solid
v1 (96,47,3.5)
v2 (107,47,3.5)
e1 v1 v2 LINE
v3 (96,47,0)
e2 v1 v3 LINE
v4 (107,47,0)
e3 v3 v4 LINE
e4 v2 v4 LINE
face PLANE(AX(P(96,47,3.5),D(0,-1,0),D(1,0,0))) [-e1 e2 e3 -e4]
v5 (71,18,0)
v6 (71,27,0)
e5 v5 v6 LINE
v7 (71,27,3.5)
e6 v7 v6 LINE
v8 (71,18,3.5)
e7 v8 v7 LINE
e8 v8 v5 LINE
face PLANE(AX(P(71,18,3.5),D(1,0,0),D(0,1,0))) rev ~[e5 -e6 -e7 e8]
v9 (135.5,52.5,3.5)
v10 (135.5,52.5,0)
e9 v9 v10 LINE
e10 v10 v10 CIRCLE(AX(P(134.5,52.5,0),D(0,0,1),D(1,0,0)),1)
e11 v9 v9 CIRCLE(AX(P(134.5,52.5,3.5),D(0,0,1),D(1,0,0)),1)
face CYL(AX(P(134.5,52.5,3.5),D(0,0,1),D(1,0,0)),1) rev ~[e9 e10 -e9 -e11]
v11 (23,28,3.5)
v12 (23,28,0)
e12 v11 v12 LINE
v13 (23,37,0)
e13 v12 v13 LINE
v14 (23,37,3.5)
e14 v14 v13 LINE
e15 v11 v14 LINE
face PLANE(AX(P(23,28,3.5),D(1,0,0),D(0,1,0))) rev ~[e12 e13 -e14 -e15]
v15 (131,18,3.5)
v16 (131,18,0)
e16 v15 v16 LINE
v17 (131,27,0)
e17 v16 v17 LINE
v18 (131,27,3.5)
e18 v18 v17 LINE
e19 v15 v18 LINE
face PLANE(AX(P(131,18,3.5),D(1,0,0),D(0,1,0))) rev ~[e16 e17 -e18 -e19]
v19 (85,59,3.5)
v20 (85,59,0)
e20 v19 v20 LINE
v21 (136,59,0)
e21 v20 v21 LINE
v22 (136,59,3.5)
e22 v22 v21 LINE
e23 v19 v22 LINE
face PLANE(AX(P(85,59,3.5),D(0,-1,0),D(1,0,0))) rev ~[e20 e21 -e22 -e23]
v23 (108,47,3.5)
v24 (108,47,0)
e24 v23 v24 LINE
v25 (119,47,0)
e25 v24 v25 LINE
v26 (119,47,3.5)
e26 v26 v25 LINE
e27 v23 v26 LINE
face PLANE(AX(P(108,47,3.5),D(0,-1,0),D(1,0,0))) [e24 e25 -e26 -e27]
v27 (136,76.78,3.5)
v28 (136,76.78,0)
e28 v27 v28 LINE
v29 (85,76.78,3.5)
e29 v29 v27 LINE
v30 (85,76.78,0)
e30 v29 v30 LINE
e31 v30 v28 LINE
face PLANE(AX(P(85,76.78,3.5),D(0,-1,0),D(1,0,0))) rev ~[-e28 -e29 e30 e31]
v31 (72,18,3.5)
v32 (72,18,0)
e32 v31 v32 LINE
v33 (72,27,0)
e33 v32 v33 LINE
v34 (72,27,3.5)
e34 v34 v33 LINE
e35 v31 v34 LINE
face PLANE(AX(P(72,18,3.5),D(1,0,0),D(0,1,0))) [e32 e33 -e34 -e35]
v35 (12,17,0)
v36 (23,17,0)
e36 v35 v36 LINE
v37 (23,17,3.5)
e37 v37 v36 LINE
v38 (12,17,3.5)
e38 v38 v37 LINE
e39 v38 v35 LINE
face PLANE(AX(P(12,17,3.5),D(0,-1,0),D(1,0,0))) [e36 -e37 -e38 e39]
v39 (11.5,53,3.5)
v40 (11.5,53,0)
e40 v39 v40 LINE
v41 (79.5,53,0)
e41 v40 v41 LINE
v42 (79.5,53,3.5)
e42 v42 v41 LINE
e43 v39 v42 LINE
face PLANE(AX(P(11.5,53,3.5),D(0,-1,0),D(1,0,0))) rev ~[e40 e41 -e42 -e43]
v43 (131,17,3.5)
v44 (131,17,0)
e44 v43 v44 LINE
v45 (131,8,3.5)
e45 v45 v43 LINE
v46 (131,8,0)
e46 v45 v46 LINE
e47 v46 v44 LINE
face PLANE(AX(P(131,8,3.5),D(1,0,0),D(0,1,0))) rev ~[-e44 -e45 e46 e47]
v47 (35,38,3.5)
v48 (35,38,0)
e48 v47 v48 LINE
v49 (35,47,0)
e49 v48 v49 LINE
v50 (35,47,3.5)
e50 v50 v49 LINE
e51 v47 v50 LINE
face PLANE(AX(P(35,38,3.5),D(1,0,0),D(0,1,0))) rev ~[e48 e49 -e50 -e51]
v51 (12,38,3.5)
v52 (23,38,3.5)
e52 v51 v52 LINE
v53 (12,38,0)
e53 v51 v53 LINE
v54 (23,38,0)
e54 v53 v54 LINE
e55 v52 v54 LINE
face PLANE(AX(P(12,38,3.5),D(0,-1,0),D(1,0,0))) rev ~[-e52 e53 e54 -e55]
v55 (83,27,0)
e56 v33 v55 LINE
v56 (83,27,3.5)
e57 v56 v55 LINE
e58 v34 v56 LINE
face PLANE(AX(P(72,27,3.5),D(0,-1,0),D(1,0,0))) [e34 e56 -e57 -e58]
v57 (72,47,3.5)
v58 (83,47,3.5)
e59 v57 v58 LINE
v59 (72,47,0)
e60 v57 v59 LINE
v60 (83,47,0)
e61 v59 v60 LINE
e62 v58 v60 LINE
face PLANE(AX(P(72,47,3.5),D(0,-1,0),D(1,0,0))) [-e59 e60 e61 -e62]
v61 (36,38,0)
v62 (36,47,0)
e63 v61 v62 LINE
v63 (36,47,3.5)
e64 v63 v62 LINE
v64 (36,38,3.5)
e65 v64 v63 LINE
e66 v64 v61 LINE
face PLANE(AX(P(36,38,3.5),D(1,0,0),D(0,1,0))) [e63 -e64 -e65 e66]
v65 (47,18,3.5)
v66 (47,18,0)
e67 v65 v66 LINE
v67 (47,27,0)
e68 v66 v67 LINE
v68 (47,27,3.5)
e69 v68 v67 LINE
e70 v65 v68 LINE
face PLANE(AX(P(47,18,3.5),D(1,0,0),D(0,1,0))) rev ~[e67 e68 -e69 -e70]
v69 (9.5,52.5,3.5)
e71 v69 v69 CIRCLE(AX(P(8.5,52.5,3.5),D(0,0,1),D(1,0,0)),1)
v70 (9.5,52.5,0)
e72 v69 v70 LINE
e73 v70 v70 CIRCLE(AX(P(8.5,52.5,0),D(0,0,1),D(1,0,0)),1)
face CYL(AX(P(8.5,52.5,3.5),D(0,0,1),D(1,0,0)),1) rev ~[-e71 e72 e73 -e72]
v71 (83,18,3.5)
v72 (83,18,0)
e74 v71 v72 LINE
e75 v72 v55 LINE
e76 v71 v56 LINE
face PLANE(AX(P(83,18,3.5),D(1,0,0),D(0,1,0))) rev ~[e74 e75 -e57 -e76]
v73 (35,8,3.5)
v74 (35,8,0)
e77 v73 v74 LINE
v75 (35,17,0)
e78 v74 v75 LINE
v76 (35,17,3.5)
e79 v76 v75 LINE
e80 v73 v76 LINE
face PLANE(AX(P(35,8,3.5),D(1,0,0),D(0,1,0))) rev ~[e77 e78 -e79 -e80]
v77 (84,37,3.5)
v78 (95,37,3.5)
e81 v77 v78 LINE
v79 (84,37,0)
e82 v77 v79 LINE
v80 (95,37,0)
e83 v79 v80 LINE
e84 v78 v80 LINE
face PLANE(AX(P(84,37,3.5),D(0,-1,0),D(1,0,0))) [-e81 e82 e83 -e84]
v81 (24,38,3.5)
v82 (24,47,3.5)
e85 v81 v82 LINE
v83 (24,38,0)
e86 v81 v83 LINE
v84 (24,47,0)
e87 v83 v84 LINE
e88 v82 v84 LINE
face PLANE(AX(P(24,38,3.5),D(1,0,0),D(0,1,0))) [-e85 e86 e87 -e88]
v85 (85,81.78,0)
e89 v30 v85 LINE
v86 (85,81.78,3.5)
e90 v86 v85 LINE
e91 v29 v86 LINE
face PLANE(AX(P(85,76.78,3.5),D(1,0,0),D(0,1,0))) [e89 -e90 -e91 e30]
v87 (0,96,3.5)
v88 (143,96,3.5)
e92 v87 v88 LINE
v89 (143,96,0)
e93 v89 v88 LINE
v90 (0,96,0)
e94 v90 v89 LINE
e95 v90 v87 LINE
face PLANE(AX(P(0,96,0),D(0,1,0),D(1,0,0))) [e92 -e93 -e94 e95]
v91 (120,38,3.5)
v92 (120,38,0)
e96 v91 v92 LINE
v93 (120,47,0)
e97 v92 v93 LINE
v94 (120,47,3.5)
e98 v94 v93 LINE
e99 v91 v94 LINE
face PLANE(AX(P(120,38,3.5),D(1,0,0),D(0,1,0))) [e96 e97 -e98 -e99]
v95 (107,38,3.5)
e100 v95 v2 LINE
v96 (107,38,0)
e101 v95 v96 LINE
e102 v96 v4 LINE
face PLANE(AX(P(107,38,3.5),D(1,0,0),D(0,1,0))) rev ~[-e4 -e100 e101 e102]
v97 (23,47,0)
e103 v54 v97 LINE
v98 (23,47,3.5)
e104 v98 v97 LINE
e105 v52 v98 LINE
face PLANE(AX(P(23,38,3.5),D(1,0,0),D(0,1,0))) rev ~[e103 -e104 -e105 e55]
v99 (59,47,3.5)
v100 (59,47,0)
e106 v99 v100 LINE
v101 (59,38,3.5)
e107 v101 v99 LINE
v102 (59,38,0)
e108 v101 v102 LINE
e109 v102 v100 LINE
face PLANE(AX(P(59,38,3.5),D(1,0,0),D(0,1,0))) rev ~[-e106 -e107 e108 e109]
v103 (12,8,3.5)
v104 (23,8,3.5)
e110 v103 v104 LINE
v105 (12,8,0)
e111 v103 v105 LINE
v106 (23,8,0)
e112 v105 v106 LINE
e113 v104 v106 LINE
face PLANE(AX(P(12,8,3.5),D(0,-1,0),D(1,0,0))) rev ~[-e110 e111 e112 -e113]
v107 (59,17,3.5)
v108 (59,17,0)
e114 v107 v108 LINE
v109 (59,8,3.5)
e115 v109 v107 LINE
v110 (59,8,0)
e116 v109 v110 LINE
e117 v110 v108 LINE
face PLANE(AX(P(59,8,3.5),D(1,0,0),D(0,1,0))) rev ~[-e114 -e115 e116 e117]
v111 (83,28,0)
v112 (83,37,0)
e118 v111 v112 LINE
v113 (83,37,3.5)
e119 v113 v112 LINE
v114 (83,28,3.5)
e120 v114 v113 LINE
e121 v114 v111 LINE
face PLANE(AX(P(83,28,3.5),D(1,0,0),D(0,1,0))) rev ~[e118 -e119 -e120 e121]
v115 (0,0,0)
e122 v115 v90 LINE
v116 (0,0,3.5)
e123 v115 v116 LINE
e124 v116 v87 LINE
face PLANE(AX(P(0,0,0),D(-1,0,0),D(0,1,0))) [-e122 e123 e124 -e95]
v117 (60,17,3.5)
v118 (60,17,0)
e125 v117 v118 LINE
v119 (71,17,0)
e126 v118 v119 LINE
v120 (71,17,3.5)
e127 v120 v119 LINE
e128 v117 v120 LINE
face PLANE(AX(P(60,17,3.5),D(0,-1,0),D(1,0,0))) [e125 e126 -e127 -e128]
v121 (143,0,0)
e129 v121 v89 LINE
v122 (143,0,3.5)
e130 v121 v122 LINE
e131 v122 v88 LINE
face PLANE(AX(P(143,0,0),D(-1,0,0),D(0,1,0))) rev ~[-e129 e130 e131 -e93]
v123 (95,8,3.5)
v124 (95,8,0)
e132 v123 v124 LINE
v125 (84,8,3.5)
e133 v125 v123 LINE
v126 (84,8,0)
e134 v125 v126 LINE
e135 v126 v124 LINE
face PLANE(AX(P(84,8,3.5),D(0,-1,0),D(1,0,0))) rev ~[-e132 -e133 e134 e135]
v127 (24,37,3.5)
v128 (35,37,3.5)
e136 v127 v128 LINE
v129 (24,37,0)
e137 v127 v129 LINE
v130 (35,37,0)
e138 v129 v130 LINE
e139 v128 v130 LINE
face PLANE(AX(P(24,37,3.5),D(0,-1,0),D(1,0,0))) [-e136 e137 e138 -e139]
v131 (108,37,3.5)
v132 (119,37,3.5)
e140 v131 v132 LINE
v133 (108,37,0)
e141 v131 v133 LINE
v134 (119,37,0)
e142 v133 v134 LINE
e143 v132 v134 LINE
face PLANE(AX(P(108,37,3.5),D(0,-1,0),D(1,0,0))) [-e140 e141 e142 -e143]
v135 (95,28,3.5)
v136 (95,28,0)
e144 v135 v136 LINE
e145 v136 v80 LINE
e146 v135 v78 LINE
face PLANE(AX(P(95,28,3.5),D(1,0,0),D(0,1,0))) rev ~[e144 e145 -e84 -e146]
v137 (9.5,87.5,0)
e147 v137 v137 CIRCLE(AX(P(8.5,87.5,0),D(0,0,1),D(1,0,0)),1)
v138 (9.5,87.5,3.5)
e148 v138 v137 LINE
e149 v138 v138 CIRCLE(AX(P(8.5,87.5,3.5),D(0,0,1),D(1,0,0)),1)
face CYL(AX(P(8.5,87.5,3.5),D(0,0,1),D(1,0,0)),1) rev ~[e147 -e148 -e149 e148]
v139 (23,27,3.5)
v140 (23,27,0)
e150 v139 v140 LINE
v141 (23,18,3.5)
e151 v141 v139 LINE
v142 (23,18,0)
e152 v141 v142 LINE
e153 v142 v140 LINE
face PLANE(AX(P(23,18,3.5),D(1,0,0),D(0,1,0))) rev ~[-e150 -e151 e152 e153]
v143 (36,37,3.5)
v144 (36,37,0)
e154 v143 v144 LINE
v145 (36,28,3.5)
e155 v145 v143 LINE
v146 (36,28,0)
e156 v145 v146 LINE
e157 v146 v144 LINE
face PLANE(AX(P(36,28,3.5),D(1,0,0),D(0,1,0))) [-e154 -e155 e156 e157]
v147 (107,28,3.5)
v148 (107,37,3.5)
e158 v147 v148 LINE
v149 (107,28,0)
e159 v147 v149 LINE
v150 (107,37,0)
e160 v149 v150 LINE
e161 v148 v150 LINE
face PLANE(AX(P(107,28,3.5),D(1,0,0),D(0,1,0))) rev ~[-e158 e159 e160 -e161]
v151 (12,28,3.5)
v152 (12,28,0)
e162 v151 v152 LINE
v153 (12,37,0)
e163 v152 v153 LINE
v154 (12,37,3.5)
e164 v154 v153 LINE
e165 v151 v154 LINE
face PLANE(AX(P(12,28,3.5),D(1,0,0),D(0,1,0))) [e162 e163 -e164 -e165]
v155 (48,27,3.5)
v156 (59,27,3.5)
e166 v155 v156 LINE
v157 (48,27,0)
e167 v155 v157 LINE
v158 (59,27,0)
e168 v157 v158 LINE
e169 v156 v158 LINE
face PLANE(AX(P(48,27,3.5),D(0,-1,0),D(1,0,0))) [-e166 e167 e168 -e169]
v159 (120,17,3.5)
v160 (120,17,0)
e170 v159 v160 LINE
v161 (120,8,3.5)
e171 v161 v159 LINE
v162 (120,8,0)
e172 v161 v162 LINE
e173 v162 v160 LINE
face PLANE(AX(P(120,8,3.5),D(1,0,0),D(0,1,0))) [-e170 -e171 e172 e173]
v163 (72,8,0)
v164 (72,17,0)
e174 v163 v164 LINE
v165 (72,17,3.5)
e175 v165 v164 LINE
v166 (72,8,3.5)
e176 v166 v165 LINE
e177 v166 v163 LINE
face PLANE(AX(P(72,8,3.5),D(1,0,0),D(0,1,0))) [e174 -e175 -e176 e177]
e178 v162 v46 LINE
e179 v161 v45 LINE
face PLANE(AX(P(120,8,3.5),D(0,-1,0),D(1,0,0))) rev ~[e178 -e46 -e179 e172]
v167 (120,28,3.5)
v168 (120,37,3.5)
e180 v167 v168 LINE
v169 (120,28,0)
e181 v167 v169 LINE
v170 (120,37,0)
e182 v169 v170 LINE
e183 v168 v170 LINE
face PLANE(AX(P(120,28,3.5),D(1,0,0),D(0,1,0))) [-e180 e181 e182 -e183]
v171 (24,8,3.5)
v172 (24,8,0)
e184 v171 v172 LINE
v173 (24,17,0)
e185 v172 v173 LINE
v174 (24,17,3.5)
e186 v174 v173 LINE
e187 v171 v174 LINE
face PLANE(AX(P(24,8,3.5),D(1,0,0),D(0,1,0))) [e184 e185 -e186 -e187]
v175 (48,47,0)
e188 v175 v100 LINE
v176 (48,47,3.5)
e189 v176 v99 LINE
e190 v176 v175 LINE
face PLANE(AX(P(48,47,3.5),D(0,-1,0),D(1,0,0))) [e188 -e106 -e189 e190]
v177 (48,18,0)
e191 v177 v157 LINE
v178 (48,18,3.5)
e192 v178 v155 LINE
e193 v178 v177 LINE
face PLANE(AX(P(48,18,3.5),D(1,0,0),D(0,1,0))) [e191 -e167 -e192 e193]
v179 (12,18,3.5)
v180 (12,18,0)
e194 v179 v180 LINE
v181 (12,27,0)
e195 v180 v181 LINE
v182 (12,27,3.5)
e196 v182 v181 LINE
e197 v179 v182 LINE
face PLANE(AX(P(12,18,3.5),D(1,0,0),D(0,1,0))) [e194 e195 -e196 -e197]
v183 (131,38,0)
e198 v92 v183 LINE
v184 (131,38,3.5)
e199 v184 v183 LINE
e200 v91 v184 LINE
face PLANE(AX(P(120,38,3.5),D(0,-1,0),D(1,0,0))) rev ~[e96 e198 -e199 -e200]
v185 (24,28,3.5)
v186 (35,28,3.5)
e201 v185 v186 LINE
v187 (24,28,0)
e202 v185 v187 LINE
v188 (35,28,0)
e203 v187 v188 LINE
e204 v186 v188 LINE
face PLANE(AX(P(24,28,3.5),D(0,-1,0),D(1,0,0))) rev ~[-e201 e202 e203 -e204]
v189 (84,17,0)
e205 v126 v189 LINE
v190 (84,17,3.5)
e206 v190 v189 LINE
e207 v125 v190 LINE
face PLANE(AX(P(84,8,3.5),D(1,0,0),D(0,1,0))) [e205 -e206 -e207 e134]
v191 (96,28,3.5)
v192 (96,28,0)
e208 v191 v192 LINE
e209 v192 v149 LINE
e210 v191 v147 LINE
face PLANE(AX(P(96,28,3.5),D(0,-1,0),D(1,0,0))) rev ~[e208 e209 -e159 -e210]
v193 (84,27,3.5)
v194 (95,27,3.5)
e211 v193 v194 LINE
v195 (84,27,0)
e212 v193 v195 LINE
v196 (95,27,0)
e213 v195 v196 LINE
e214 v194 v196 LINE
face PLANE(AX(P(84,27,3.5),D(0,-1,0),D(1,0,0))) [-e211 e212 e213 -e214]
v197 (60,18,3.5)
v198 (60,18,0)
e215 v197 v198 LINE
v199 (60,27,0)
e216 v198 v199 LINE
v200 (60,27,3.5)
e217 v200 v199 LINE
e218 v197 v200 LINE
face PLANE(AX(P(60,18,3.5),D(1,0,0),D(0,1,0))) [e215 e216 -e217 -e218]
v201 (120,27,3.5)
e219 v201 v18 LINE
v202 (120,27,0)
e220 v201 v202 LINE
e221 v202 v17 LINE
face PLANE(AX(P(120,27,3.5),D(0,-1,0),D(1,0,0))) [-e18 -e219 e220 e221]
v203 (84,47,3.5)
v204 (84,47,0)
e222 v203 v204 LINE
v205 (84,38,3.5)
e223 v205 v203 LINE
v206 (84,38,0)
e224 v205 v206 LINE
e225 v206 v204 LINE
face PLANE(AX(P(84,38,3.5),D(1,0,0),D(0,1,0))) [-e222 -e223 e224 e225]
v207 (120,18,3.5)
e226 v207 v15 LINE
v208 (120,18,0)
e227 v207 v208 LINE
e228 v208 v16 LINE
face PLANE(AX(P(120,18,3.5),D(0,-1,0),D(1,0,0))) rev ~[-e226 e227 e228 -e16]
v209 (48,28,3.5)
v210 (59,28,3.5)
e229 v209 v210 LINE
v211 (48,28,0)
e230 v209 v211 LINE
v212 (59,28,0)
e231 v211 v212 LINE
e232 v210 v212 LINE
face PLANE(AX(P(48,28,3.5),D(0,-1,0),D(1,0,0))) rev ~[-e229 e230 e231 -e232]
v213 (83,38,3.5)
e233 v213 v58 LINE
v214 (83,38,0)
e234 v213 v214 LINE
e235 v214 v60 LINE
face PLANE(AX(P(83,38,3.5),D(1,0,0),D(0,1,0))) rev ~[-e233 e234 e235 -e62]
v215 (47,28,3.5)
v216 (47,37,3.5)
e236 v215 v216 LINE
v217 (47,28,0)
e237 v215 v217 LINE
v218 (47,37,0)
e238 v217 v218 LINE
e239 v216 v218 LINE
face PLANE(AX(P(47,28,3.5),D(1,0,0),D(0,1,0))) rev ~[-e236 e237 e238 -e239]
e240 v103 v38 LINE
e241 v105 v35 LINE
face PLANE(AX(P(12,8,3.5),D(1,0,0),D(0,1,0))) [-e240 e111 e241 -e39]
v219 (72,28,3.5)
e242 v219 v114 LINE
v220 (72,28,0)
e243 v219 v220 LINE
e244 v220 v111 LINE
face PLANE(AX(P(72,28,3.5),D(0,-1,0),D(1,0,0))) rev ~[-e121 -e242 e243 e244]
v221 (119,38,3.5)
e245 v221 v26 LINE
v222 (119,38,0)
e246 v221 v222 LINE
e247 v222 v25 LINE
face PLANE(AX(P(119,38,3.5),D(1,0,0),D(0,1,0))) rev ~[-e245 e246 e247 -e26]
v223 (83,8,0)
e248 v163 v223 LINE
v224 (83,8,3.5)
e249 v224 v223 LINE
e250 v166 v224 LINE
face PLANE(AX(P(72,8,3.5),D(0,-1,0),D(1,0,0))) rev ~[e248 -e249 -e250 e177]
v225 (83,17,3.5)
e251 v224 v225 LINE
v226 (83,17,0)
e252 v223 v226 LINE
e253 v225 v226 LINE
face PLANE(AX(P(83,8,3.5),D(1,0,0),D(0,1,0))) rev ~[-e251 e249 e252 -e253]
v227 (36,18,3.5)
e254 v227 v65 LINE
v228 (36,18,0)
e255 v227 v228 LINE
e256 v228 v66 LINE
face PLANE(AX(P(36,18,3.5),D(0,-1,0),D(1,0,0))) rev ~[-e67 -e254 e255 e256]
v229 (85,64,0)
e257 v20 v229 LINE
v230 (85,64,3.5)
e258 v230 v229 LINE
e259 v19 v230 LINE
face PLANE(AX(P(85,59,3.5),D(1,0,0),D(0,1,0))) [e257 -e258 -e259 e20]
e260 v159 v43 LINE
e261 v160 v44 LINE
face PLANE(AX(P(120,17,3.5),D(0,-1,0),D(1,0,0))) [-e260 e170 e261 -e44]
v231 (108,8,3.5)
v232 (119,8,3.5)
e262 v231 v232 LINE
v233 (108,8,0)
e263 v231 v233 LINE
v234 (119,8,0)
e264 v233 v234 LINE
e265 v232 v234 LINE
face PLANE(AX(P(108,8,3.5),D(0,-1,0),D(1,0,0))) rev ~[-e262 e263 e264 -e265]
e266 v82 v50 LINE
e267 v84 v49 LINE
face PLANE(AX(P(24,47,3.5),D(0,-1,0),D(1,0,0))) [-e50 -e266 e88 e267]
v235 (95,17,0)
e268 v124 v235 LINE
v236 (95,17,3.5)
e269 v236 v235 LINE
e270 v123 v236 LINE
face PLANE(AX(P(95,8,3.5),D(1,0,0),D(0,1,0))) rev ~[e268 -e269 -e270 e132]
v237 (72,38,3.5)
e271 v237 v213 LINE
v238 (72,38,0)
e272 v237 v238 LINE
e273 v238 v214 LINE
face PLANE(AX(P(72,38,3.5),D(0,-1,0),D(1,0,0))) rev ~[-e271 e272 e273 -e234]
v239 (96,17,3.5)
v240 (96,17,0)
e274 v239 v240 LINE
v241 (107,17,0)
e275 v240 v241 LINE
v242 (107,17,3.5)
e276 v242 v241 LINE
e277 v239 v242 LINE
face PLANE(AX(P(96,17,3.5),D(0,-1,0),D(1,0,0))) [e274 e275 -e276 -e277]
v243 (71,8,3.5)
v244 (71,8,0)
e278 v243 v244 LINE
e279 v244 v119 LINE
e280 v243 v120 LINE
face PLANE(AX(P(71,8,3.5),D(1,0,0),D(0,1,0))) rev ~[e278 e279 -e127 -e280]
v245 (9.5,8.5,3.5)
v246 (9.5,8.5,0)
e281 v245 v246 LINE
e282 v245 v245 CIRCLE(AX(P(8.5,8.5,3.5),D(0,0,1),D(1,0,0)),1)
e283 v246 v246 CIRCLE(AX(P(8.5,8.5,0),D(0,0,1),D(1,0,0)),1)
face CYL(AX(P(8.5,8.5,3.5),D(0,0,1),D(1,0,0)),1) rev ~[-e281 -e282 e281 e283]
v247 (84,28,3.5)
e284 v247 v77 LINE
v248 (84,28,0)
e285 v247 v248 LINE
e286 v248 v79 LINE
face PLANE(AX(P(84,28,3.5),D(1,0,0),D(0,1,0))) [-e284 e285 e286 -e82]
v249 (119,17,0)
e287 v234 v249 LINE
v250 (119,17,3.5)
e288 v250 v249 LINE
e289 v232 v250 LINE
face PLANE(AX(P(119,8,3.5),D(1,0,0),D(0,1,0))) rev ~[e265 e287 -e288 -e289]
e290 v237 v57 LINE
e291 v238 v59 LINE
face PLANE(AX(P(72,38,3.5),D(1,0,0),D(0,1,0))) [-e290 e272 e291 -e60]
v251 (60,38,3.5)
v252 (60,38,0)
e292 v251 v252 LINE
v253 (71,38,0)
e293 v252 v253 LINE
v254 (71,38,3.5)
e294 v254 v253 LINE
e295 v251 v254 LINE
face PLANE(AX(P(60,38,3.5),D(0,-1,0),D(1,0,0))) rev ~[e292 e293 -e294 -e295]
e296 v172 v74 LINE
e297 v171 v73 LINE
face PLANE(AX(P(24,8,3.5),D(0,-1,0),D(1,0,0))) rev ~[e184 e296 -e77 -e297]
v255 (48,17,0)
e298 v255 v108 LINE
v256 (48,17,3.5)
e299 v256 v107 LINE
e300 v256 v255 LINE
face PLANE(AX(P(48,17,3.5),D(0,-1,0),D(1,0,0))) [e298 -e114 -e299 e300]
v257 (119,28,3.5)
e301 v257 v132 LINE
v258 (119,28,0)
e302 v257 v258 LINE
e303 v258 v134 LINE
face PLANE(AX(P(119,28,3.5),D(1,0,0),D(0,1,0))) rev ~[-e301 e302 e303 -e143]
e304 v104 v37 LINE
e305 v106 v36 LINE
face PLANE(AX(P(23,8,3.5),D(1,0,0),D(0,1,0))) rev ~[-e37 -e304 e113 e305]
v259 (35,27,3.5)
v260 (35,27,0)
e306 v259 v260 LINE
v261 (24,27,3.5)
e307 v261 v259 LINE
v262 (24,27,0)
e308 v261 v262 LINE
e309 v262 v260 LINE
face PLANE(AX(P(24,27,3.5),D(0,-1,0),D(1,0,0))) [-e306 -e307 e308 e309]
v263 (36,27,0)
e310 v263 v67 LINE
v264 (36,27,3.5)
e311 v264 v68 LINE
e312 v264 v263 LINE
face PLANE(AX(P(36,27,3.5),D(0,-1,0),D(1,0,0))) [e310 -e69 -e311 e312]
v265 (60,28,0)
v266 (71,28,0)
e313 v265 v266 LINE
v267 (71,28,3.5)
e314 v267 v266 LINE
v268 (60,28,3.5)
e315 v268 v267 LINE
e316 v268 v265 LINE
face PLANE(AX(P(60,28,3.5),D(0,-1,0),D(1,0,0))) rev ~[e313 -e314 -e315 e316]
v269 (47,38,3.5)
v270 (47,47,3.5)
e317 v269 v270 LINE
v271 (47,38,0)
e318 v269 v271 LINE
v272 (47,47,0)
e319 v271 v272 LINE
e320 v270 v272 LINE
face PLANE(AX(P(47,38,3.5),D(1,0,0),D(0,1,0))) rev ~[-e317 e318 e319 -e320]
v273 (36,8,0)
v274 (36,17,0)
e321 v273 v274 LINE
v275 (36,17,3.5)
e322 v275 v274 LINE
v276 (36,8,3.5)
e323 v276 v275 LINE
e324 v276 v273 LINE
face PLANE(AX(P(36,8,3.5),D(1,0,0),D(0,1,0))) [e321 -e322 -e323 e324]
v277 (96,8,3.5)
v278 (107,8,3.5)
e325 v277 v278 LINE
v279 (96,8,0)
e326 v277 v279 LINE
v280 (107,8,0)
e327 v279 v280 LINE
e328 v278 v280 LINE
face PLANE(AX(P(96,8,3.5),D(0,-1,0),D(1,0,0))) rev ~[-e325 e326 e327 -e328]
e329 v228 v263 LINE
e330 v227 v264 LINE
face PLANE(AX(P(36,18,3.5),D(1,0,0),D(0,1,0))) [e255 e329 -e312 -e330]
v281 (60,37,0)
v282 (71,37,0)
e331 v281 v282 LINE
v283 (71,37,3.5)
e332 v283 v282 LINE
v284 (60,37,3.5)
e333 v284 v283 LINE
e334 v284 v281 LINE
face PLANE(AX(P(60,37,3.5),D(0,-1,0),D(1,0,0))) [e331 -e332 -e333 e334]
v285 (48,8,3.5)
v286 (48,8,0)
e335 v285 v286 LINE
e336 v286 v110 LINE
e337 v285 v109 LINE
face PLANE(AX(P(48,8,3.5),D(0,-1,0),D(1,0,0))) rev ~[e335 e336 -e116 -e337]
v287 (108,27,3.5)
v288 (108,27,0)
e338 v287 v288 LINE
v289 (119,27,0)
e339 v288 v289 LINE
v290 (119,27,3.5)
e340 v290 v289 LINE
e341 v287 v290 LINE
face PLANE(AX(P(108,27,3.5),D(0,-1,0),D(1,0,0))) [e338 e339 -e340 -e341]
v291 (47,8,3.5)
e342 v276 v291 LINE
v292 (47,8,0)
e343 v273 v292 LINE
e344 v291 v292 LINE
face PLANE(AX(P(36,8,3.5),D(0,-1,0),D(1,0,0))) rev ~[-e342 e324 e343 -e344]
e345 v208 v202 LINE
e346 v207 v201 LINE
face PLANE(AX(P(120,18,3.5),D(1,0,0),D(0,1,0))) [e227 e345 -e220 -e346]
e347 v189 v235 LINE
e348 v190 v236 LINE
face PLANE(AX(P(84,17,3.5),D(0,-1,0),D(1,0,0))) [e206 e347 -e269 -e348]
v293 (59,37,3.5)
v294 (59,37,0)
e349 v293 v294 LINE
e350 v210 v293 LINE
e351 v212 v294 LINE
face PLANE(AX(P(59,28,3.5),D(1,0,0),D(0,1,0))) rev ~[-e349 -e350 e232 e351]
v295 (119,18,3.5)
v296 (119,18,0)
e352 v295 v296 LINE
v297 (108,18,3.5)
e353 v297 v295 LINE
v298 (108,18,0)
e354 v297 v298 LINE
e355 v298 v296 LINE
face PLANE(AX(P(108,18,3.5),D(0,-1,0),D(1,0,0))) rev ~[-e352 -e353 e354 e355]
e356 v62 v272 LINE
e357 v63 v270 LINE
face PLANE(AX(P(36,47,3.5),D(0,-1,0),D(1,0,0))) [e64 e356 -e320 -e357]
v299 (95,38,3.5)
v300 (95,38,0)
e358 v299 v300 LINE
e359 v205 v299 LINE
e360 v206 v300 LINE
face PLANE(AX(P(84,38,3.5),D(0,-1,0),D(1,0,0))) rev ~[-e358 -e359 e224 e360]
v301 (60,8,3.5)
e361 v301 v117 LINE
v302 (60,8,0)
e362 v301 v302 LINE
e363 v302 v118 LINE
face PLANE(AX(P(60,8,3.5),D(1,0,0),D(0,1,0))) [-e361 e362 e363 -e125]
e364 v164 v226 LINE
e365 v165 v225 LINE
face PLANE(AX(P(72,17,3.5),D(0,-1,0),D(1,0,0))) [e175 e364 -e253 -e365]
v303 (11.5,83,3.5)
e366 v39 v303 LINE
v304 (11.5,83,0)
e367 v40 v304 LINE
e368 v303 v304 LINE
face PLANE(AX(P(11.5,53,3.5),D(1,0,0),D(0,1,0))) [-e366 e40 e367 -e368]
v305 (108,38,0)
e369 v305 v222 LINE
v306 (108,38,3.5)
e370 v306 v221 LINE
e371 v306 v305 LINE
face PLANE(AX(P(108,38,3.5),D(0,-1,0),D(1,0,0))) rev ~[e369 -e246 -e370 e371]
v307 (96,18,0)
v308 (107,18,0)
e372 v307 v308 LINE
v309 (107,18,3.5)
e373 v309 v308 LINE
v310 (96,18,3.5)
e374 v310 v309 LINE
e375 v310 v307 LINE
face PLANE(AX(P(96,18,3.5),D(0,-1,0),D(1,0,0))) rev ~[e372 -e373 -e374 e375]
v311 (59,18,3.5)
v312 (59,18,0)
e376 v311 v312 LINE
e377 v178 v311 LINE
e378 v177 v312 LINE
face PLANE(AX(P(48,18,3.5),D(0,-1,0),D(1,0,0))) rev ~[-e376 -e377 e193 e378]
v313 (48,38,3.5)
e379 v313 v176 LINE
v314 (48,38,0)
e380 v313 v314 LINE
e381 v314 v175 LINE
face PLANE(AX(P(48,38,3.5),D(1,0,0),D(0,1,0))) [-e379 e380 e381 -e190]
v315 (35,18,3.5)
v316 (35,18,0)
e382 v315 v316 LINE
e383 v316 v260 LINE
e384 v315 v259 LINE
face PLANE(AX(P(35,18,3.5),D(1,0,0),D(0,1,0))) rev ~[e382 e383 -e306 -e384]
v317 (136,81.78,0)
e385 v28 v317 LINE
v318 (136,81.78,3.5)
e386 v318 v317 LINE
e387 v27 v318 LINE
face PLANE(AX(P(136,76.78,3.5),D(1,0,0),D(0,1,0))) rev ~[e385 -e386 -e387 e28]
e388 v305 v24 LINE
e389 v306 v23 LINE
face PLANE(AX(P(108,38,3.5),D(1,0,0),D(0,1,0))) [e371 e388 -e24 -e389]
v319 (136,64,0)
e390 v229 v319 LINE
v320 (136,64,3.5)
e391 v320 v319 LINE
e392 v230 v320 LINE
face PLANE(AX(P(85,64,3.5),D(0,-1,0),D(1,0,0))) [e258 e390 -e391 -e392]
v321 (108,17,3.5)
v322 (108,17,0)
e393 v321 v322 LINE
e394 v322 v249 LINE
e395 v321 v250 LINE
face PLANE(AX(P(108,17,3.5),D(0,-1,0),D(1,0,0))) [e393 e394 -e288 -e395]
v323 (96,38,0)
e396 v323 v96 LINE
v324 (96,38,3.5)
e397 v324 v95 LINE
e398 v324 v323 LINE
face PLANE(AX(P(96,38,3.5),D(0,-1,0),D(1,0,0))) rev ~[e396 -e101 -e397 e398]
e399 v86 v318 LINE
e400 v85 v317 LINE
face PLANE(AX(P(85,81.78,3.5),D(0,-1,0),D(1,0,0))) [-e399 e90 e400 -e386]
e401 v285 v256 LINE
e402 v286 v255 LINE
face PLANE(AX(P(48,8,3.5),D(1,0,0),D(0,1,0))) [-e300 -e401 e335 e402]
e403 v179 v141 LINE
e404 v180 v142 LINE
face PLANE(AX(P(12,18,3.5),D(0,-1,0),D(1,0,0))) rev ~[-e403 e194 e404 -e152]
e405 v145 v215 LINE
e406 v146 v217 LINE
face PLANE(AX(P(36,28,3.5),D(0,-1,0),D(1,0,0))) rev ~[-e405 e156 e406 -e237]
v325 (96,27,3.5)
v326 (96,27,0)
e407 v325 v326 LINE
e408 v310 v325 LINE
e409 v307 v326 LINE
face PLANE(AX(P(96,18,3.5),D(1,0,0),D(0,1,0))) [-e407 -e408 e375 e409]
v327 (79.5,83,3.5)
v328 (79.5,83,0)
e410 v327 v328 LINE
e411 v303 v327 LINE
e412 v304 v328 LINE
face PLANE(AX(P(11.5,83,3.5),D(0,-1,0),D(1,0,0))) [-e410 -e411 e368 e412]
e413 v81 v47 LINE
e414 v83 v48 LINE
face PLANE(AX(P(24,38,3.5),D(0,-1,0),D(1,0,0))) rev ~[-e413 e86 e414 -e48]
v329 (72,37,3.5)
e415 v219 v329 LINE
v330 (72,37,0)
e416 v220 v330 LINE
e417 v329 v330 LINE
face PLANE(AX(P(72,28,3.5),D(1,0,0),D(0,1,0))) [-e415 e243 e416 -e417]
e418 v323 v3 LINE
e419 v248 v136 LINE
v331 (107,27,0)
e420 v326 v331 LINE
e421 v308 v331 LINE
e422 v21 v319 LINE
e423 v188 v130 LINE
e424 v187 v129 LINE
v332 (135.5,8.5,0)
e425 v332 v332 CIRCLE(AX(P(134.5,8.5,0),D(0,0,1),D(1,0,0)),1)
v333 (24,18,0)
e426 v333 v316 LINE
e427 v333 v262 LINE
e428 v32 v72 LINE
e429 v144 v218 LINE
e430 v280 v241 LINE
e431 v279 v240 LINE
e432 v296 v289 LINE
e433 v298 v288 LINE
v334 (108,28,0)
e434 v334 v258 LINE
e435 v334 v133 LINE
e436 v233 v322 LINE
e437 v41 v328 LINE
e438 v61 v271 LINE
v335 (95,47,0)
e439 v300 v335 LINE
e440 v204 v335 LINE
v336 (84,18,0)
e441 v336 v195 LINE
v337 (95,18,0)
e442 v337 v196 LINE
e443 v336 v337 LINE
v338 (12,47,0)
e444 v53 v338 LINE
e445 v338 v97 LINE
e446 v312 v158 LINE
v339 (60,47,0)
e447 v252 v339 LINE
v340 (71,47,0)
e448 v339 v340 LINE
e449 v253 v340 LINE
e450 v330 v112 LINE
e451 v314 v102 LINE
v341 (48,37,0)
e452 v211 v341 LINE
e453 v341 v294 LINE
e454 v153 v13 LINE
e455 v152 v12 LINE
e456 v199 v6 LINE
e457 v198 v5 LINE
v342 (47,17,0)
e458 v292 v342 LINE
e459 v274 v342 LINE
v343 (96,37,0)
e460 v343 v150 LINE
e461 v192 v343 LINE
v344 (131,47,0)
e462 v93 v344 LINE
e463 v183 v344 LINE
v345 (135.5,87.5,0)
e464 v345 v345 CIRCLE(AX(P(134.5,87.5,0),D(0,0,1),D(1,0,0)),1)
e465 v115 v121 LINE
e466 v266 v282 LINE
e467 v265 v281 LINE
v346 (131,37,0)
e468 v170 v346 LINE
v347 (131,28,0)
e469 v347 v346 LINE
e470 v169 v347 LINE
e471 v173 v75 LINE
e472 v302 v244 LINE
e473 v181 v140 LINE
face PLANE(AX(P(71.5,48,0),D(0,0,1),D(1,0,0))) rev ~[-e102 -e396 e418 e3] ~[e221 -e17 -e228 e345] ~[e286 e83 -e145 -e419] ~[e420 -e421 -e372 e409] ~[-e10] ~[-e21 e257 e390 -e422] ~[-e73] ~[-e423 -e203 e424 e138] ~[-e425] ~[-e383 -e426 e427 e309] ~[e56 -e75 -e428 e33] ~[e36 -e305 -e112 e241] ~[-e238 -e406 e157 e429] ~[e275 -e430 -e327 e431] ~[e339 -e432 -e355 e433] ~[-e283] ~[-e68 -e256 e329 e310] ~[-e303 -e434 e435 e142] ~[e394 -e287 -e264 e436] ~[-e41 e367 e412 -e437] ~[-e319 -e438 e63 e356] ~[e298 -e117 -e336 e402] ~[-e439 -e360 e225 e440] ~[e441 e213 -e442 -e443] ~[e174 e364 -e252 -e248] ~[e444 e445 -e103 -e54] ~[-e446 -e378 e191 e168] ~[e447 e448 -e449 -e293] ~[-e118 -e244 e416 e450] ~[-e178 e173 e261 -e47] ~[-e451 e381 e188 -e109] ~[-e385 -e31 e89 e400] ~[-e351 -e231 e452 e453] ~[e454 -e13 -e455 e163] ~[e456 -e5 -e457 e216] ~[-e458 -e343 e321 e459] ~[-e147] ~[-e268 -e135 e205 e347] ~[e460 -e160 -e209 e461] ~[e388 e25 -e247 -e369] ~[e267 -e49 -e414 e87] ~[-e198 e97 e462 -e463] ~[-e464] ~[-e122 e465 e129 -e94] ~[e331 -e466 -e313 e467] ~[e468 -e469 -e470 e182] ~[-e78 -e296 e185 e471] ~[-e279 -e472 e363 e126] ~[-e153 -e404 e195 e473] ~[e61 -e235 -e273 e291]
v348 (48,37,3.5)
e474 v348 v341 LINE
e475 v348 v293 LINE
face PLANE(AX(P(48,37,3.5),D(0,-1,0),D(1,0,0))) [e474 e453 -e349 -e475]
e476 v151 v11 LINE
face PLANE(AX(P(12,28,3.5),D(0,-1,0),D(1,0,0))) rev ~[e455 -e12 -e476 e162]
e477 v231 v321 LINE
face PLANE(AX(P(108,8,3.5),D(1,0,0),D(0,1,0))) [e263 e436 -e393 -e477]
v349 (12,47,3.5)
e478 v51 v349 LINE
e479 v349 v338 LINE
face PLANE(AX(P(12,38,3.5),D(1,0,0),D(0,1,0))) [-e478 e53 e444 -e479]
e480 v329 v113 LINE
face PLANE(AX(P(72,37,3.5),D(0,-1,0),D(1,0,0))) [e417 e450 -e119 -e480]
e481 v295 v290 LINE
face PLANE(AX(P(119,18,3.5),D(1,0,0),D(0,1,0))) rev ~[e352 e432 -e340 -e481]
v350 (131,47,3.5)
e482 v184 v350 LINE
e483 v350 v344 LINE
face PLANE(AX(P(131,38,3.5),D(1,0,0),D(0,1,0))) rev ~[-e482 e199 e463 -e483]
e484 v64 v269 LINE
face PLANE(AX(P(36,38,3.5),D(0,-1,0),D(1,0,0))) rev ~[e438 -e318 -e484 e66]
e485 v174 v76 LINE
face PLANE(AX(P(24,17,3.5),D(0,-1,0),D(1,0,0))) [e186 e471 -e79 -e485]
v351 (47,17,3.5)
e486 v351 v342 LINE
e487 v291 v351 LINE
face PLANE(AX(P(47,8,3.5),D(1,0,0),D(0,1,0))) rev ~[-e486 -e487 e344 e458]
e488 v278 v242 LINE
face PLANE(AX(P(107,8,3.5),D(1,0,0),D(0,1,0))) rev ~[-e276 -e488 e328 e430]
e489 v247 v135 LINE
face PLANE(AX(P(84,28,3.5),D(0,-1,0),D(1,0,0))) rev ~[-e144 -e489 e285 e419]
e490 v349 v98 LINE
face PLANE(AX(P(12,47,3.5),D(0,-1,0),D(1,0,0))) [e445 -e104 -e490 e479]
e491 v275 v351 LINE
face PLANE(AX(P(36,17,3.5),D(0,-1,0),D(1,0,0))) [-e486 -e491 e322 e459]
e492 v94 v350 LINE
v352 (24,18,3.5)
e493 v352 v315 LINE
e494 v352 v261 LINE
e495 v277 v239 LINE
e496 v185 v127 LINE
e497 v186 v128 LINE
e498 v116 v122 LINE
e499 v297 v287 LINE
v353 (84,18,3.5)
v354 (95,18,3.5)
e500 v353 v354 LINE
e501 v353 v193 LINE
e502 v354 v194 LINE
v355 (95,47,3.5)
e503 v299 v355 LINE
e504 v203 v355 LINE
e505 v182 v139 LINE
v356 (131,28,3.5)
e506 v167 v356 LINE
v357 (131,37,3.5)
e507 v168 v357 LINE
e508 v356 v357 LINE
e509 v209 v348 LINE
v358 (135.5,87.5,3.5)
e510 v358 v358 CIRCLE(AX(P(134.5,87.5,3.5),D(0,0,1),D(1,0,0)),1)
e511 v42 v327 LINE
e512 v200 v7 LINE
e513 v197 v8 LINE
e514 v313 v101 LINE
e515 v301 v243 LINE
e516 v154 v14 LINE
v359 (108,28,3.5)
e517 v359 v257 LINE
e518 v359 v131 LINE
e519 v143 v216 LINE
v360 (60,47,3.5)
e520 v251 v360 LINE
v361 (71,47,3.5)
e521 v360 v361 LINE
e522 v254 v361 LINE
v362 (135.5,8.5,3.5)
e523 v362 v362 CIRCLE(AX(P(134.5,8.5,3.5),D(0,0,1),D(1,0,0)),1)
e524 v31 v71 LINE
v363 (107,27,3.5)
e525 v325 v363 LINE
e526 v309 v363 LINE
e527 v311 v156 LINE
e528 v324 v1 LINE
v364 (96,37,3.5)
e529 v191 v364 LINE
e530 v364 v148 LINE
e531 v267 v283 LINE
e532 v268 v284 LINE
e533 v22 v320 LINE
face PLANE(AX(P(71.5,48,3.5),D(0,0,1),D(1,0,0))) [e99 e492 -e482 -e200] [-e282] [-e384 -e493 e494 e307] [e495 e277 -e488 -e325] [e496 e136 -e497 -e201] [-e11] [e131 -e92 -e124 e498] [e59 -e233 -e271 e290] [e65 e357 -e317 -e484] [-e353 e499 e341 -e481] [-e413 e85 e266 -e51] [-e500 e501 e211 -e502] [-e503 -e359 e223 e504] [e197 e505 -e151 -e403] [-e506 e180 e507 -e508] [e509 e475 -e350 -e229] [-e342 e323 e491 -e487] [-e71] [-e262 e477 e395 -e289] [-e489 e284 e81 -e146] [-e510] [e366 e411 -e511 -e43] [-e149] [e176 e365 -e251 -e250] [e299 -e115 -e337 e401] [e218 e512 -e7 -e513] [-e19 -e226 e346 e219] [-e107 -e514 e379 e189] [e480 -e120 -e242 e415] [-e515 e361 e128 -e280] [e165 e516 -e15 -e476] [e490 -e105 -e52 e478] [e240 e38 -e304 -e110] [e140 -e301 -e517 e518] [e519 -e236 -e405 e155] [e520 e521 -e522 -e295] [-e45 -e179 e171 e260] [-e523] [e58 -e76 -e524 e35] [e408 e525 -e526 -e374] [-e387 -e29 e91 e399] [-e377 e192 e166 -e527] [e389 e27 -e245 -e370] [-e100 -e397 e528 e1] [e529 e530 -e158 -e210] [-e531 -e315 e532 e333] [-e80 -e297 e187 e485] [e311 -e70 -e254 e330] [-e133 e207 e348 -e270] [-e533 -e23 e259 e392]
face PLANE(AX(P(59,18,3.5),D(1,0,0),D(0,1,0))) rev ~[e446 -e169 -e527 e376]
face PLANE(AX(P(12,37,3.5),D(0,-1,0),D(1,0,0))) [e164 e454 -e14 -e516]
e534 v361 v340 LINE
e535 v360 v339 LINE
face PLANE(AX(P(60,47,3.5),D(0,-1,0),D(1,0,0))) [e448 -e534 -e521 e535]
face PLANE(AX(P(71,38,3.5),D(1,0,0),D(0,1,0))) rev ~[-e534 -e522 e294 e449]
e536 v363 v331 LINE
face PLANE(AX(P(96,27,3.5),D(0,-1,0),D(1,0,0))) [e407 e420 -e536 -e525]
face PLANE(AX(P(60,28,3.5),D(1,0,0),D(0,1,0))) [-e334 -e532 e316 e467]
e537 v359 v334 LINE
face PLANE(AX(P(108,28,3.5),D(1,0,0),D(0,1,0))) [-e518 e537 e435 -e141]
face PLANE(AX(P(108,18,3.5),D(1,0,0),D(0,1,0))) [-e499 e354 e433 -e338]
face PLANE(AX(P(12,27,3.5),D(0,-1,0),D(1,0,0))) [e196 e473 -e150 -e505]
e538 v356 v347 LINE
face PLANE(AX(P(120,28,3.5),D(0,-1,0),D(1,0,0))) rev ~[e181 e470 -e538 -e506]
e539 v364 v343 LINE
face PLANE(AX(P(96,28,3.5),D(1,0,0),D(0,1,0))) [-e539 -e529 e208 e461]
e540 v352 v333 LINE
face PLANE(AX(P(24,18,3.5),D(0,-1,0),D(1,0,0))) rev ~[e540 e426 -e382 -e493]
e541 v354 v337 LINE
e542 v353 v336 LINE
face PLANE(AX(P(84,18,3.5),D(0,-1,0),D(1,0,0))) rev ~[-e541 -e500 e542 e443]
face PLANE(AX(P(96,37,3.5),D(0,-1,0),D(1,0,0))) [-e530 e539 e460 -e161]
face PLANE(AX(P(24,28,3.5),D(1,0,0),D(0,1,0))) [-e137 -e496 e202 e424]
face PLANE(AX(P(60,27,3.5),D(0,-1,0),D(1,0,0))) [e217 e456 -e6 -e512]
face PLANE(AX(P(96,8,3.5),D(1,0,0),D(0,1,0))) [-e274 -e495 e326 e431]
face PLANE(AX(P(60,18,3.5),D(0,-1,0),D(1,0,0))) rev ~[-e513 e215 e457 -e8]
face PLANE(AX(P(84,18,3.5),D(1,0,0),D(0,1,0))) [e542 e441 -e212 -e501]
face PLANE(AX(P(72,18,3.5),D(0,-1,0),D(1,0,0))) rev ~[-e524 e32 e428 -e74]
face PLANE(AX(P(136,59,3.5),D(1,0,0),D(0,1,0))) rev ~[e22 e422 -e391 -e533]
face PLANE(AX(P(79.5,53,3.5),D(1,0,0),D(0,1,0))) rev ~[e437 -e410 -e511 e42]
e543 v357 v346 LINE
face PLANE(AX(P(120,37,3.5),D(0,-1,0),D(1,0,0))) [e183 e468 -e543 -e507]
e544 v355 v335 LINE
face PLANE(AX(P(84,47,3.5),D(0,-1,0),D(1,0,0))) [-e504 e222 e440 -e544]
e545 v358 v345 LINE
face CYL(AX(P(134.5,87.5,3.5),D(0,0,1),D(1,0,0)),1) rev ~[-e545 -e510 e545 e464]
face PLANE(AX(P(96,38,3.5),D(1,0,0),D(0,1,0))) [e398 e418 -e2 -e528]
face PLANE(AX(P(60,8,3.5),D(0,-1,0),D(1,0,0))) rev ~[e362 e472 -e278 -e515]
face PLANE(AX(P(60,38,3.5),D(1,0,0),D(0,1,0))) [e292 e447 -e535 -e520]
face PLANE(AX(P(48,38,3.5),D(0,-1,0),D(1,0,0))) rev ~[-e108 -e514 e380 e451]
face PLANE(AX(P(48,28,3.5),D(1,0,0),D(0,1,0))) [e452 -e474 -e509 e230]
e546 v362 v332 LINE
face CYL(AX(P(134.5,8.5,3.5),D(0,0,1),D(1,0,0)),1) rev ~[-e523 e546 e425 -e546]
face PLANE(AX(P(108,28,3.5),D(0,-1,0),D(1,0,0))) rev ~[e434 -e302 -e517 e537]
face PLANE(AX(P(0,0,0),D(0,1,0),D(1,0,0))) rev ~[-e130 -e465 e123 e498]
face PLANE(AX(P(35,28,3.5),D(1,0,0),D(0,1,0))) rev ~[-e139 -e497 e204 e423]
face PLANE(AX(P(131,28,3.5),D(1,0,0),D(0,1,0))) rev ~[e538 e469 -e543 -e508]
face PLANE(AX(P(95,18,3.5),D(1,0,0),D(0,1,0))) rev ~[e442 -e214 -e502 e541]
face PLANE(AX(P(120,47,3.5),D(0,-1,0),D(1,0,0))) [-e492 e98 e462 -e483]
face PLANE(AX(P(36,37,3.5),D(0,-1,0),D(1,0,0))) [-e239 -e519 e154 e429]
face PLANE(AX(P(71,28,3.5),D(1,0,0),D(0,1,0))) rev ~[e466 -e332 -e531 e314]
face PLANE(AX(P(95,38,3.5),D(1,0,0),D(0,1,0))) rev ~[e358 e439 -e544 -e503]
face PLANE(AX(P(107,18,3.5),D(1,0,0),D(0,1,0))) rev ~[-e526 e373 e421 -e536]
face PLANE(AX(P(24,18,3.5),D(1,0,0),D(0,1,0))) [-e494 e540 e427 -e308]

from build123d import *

# Parameters (mm, degrees)
SKETCH006_W     = 143
SKETCH006_H     = 96
PAD003_DEPTH    = 3.5
SKETCH007_W     = 68
SKETCH007_H     = 30
POCKET003_DEPTH = 3.501
SKETCH008_W     = 11
SKETCH008_H     = 9
POCKET004_DEPTH = 3.501
SKETCH009_W     = 51
SKETCH009_H     = 5
POCKET005_DEPTH = 3.501
SKETCH010_R     = 1
POCKET006_DEPTH = 3.501


with BuildPart() as part:
    # Sketch006 → Pad003 (new body)
    with BuildSketch(Plane.XY):
        with Locations((71.5, 48)):
            Rectangle(SKETCH006_W, SKETCH006_H)
    extrude(amount=PAD003_DEPTH)

    # Sketch007 (on Face6 of Pad003) → Pocket003 (cut, through all)
    with BuildSketch(Plane.XY.offset(3.5)):
        with Locations((45.5, 68)):
            Rectangle(SKETCH007_W, SKETCH007_H)
    extrude(amount=-POCKET003_DEPTH, mode=Mode.SUBTRACT)

    # Sketch008 (on Face5 of Pocket003) → Pocket004 (cut, through all)
    with BuildSketch(Plane.XY.offset(3.5)):
        with Locations((17.5, 42.5)):
            Rectangle(SKETCH008_W, SKETCH008_H)
        with Locations((29.5, 42.5)):
            Rectangle(SKETCH008_W, SKETCH008_H)
        with Locations((41.5, 42.5)):
            Rectangle(SKETCH008_W, SKETCH008_H)
        with Locations((53.5, 42.5)):
            Rectangle(SKETCH008_W, SKETCH008_H)
        with Locations((65.5, 42.5)):
            Rectangle(SKETCH008_W, SKETCH008_H)
        with Locations((77.5, 42.5)):
            Rectangle(SKETCH008_W, SKETCH008_H)
        with Locations((89.5, 42.5)):
            Rectangle(SKETCH008_W, SKETCH008_H)
        with Locations((101.5, 42.5)):
            Rectangle(SKETCH008_W, SKETCH008_H)
        with Locations((113.5, 42.5)):
            Rectangle(SKETCH008_W, SKETCH008_H)
        with Locations((125.5, 42.5)):
            Rectangle(SKETCH008_W, SKETCH008_H)
        with Locations((17.5, 32.5)):
            Rectangle(SKETCH008_W, SKETCH008_H)
        with Locations((29.5, 32.5)):
            Rectangle(SKETCH008_W, SKETCH008_H)
        with Locations((41.5, 32.5)):
            Rectangle(SKETCH008_W, SKETCH008_H)
        with Locations((53.5, 32.5)):
            Rectangle(SKETCH008_W, SKETCH008_H)
        with Locations((65.5, 32.5)):
            Rectangle(SKETCH008_W, SKETCH008_H)
        with Locations((77.5, 32.5)):
            Rectangle(SKETCH008_W, SKETCH008_H)
        with Locations((89.5, 32.5)):
            Rectangle(SKETCH008_W, SKETCH008_H)
        with Locations((101.5, 32.5)):
            Rectangle(SKETCH008_W, SKETCH008_H)
        with Locations((113.5, 32.5)):
            Rectangle(SKETCH008_W, SKETCH008_H)
        with Locations((125.5, 32.5)):
            Rectangle(SKETCH008_W, SKETCH008_H)
        with Locations((17.5, 22.5)):
            Rectangle(SKETCH008_W, SKETCH008_H)
        with Locations((29.5, 22.5)):
            Rectangle(SKETCH008_W, SKETCH008_H)
        with Locations((41.5, 22.5)):
            Rectangle(SKETCH008_W, SKETCH008_H)
        with Locations((53.5, 22.5)):
            Rectangle(SKETCH008_W, SKETCH008_H)
        with Locations((65.5, 22.5)):
            Rectangle(SKETCH008_W, SKETCH008_H)
        with Locations((77.5, 22.5)):
            Rectangle(SKETCH008_W, SKETCH008_H)
        with Locations((89.5, 22.5)):
            Rectangle(SKETCH008_W, SKETCH008_H)
        with Locations((101.5, 22.5)):
            Rectangle(SKETCH008_W, SKETCH008_H)
        with Locations((113.5, 22.5)):
            Rectangle(SKETCH008_W, SKETCH008_H)
        with Locations((125.5, 22.5)):
            Rectangle(SKETCH008_W, SKETCH008_H)
        with Locations((17.5, 12.5)):
            Rectangle(SKETCH008_W, SKETCH008_H)
        with Locations((29.5, 12.5)):
            Rectangle(SKETCH008_W, SKETCH008_H)
        with Locations((41.5, 12.5)):
            Rectangle(SKETCH008_W, SKETCH008_H)
        with Locations((53.5, 12.5)):
            Rectangle(SKETCH008_W, SKETCH008_H)
        with Locations((65.5, 12.5)):
            Rectangle(SKETCH008_W, SKETCH008_H)
        with Locations((77.5, 12.5)):
            Rectangle(SKETCH008_W, SKETCH008_H)
        with Locations((89.5, 12.5)):
            Rectangle(SKETCH008_W, SKETCH008_H)
        with Locations((101.5, 12.5)):
            Rectangle(SKETCH008_W, SKETCH008_H)
        with Locations((113.5, 12.5)):
            Rectangle(SKETCH008_W, SKETCH008_H)
        with Locations((125.5, 12.5)):
            Rectangle(SKETCH008_W, SKETCH008_H)
    extrude(amount=-POCKET004_DEPTH, mode=Mode.SUBTRACT)

    # Sketch009 (on Face5 of Pocket004) → Pocket005 (cut, through all)
    with BuildSketch(Plane.XY.offset(3.5)):
        with Locations((110.5, 79.28)):
            Rectangle(SKETCH009_W, SKETCH009_H)
        with Locations((110.5, 61.5)):
            Rectangle(SKETCH009_W, SKETCH009_H)
    extrude(amount=-POCKET005_DEPTH, mode=Mode.SUBTRACT)

    # Sketch010 (on Face5 of Pocket005) → Pocket006 (cut, through all)
    with BuildSketch(Plane.XY.offset(3.5)):
        with Locations((8.5, 87.5)):
            Circle(SKETCH010_R)
        with Locations((134.5, 87.5)):
            Circle(SKETCH010_R)
        with Locations((8.5, 52.5)):
            Circle(SKETCH010_R)
        with Locations((134.5, 52.5)):
            Circle(SKETCH010_R)
        with Locations((8.5, 8.5)):
            Circle(SKETCH010_R)
        with Locations((134.5, 8.5)):
            Circle(SKETCH010_R)
    extrude(amount=-POCKET006_DEPTH, mode=Mode.SUBTRACT)


solid = part.part
